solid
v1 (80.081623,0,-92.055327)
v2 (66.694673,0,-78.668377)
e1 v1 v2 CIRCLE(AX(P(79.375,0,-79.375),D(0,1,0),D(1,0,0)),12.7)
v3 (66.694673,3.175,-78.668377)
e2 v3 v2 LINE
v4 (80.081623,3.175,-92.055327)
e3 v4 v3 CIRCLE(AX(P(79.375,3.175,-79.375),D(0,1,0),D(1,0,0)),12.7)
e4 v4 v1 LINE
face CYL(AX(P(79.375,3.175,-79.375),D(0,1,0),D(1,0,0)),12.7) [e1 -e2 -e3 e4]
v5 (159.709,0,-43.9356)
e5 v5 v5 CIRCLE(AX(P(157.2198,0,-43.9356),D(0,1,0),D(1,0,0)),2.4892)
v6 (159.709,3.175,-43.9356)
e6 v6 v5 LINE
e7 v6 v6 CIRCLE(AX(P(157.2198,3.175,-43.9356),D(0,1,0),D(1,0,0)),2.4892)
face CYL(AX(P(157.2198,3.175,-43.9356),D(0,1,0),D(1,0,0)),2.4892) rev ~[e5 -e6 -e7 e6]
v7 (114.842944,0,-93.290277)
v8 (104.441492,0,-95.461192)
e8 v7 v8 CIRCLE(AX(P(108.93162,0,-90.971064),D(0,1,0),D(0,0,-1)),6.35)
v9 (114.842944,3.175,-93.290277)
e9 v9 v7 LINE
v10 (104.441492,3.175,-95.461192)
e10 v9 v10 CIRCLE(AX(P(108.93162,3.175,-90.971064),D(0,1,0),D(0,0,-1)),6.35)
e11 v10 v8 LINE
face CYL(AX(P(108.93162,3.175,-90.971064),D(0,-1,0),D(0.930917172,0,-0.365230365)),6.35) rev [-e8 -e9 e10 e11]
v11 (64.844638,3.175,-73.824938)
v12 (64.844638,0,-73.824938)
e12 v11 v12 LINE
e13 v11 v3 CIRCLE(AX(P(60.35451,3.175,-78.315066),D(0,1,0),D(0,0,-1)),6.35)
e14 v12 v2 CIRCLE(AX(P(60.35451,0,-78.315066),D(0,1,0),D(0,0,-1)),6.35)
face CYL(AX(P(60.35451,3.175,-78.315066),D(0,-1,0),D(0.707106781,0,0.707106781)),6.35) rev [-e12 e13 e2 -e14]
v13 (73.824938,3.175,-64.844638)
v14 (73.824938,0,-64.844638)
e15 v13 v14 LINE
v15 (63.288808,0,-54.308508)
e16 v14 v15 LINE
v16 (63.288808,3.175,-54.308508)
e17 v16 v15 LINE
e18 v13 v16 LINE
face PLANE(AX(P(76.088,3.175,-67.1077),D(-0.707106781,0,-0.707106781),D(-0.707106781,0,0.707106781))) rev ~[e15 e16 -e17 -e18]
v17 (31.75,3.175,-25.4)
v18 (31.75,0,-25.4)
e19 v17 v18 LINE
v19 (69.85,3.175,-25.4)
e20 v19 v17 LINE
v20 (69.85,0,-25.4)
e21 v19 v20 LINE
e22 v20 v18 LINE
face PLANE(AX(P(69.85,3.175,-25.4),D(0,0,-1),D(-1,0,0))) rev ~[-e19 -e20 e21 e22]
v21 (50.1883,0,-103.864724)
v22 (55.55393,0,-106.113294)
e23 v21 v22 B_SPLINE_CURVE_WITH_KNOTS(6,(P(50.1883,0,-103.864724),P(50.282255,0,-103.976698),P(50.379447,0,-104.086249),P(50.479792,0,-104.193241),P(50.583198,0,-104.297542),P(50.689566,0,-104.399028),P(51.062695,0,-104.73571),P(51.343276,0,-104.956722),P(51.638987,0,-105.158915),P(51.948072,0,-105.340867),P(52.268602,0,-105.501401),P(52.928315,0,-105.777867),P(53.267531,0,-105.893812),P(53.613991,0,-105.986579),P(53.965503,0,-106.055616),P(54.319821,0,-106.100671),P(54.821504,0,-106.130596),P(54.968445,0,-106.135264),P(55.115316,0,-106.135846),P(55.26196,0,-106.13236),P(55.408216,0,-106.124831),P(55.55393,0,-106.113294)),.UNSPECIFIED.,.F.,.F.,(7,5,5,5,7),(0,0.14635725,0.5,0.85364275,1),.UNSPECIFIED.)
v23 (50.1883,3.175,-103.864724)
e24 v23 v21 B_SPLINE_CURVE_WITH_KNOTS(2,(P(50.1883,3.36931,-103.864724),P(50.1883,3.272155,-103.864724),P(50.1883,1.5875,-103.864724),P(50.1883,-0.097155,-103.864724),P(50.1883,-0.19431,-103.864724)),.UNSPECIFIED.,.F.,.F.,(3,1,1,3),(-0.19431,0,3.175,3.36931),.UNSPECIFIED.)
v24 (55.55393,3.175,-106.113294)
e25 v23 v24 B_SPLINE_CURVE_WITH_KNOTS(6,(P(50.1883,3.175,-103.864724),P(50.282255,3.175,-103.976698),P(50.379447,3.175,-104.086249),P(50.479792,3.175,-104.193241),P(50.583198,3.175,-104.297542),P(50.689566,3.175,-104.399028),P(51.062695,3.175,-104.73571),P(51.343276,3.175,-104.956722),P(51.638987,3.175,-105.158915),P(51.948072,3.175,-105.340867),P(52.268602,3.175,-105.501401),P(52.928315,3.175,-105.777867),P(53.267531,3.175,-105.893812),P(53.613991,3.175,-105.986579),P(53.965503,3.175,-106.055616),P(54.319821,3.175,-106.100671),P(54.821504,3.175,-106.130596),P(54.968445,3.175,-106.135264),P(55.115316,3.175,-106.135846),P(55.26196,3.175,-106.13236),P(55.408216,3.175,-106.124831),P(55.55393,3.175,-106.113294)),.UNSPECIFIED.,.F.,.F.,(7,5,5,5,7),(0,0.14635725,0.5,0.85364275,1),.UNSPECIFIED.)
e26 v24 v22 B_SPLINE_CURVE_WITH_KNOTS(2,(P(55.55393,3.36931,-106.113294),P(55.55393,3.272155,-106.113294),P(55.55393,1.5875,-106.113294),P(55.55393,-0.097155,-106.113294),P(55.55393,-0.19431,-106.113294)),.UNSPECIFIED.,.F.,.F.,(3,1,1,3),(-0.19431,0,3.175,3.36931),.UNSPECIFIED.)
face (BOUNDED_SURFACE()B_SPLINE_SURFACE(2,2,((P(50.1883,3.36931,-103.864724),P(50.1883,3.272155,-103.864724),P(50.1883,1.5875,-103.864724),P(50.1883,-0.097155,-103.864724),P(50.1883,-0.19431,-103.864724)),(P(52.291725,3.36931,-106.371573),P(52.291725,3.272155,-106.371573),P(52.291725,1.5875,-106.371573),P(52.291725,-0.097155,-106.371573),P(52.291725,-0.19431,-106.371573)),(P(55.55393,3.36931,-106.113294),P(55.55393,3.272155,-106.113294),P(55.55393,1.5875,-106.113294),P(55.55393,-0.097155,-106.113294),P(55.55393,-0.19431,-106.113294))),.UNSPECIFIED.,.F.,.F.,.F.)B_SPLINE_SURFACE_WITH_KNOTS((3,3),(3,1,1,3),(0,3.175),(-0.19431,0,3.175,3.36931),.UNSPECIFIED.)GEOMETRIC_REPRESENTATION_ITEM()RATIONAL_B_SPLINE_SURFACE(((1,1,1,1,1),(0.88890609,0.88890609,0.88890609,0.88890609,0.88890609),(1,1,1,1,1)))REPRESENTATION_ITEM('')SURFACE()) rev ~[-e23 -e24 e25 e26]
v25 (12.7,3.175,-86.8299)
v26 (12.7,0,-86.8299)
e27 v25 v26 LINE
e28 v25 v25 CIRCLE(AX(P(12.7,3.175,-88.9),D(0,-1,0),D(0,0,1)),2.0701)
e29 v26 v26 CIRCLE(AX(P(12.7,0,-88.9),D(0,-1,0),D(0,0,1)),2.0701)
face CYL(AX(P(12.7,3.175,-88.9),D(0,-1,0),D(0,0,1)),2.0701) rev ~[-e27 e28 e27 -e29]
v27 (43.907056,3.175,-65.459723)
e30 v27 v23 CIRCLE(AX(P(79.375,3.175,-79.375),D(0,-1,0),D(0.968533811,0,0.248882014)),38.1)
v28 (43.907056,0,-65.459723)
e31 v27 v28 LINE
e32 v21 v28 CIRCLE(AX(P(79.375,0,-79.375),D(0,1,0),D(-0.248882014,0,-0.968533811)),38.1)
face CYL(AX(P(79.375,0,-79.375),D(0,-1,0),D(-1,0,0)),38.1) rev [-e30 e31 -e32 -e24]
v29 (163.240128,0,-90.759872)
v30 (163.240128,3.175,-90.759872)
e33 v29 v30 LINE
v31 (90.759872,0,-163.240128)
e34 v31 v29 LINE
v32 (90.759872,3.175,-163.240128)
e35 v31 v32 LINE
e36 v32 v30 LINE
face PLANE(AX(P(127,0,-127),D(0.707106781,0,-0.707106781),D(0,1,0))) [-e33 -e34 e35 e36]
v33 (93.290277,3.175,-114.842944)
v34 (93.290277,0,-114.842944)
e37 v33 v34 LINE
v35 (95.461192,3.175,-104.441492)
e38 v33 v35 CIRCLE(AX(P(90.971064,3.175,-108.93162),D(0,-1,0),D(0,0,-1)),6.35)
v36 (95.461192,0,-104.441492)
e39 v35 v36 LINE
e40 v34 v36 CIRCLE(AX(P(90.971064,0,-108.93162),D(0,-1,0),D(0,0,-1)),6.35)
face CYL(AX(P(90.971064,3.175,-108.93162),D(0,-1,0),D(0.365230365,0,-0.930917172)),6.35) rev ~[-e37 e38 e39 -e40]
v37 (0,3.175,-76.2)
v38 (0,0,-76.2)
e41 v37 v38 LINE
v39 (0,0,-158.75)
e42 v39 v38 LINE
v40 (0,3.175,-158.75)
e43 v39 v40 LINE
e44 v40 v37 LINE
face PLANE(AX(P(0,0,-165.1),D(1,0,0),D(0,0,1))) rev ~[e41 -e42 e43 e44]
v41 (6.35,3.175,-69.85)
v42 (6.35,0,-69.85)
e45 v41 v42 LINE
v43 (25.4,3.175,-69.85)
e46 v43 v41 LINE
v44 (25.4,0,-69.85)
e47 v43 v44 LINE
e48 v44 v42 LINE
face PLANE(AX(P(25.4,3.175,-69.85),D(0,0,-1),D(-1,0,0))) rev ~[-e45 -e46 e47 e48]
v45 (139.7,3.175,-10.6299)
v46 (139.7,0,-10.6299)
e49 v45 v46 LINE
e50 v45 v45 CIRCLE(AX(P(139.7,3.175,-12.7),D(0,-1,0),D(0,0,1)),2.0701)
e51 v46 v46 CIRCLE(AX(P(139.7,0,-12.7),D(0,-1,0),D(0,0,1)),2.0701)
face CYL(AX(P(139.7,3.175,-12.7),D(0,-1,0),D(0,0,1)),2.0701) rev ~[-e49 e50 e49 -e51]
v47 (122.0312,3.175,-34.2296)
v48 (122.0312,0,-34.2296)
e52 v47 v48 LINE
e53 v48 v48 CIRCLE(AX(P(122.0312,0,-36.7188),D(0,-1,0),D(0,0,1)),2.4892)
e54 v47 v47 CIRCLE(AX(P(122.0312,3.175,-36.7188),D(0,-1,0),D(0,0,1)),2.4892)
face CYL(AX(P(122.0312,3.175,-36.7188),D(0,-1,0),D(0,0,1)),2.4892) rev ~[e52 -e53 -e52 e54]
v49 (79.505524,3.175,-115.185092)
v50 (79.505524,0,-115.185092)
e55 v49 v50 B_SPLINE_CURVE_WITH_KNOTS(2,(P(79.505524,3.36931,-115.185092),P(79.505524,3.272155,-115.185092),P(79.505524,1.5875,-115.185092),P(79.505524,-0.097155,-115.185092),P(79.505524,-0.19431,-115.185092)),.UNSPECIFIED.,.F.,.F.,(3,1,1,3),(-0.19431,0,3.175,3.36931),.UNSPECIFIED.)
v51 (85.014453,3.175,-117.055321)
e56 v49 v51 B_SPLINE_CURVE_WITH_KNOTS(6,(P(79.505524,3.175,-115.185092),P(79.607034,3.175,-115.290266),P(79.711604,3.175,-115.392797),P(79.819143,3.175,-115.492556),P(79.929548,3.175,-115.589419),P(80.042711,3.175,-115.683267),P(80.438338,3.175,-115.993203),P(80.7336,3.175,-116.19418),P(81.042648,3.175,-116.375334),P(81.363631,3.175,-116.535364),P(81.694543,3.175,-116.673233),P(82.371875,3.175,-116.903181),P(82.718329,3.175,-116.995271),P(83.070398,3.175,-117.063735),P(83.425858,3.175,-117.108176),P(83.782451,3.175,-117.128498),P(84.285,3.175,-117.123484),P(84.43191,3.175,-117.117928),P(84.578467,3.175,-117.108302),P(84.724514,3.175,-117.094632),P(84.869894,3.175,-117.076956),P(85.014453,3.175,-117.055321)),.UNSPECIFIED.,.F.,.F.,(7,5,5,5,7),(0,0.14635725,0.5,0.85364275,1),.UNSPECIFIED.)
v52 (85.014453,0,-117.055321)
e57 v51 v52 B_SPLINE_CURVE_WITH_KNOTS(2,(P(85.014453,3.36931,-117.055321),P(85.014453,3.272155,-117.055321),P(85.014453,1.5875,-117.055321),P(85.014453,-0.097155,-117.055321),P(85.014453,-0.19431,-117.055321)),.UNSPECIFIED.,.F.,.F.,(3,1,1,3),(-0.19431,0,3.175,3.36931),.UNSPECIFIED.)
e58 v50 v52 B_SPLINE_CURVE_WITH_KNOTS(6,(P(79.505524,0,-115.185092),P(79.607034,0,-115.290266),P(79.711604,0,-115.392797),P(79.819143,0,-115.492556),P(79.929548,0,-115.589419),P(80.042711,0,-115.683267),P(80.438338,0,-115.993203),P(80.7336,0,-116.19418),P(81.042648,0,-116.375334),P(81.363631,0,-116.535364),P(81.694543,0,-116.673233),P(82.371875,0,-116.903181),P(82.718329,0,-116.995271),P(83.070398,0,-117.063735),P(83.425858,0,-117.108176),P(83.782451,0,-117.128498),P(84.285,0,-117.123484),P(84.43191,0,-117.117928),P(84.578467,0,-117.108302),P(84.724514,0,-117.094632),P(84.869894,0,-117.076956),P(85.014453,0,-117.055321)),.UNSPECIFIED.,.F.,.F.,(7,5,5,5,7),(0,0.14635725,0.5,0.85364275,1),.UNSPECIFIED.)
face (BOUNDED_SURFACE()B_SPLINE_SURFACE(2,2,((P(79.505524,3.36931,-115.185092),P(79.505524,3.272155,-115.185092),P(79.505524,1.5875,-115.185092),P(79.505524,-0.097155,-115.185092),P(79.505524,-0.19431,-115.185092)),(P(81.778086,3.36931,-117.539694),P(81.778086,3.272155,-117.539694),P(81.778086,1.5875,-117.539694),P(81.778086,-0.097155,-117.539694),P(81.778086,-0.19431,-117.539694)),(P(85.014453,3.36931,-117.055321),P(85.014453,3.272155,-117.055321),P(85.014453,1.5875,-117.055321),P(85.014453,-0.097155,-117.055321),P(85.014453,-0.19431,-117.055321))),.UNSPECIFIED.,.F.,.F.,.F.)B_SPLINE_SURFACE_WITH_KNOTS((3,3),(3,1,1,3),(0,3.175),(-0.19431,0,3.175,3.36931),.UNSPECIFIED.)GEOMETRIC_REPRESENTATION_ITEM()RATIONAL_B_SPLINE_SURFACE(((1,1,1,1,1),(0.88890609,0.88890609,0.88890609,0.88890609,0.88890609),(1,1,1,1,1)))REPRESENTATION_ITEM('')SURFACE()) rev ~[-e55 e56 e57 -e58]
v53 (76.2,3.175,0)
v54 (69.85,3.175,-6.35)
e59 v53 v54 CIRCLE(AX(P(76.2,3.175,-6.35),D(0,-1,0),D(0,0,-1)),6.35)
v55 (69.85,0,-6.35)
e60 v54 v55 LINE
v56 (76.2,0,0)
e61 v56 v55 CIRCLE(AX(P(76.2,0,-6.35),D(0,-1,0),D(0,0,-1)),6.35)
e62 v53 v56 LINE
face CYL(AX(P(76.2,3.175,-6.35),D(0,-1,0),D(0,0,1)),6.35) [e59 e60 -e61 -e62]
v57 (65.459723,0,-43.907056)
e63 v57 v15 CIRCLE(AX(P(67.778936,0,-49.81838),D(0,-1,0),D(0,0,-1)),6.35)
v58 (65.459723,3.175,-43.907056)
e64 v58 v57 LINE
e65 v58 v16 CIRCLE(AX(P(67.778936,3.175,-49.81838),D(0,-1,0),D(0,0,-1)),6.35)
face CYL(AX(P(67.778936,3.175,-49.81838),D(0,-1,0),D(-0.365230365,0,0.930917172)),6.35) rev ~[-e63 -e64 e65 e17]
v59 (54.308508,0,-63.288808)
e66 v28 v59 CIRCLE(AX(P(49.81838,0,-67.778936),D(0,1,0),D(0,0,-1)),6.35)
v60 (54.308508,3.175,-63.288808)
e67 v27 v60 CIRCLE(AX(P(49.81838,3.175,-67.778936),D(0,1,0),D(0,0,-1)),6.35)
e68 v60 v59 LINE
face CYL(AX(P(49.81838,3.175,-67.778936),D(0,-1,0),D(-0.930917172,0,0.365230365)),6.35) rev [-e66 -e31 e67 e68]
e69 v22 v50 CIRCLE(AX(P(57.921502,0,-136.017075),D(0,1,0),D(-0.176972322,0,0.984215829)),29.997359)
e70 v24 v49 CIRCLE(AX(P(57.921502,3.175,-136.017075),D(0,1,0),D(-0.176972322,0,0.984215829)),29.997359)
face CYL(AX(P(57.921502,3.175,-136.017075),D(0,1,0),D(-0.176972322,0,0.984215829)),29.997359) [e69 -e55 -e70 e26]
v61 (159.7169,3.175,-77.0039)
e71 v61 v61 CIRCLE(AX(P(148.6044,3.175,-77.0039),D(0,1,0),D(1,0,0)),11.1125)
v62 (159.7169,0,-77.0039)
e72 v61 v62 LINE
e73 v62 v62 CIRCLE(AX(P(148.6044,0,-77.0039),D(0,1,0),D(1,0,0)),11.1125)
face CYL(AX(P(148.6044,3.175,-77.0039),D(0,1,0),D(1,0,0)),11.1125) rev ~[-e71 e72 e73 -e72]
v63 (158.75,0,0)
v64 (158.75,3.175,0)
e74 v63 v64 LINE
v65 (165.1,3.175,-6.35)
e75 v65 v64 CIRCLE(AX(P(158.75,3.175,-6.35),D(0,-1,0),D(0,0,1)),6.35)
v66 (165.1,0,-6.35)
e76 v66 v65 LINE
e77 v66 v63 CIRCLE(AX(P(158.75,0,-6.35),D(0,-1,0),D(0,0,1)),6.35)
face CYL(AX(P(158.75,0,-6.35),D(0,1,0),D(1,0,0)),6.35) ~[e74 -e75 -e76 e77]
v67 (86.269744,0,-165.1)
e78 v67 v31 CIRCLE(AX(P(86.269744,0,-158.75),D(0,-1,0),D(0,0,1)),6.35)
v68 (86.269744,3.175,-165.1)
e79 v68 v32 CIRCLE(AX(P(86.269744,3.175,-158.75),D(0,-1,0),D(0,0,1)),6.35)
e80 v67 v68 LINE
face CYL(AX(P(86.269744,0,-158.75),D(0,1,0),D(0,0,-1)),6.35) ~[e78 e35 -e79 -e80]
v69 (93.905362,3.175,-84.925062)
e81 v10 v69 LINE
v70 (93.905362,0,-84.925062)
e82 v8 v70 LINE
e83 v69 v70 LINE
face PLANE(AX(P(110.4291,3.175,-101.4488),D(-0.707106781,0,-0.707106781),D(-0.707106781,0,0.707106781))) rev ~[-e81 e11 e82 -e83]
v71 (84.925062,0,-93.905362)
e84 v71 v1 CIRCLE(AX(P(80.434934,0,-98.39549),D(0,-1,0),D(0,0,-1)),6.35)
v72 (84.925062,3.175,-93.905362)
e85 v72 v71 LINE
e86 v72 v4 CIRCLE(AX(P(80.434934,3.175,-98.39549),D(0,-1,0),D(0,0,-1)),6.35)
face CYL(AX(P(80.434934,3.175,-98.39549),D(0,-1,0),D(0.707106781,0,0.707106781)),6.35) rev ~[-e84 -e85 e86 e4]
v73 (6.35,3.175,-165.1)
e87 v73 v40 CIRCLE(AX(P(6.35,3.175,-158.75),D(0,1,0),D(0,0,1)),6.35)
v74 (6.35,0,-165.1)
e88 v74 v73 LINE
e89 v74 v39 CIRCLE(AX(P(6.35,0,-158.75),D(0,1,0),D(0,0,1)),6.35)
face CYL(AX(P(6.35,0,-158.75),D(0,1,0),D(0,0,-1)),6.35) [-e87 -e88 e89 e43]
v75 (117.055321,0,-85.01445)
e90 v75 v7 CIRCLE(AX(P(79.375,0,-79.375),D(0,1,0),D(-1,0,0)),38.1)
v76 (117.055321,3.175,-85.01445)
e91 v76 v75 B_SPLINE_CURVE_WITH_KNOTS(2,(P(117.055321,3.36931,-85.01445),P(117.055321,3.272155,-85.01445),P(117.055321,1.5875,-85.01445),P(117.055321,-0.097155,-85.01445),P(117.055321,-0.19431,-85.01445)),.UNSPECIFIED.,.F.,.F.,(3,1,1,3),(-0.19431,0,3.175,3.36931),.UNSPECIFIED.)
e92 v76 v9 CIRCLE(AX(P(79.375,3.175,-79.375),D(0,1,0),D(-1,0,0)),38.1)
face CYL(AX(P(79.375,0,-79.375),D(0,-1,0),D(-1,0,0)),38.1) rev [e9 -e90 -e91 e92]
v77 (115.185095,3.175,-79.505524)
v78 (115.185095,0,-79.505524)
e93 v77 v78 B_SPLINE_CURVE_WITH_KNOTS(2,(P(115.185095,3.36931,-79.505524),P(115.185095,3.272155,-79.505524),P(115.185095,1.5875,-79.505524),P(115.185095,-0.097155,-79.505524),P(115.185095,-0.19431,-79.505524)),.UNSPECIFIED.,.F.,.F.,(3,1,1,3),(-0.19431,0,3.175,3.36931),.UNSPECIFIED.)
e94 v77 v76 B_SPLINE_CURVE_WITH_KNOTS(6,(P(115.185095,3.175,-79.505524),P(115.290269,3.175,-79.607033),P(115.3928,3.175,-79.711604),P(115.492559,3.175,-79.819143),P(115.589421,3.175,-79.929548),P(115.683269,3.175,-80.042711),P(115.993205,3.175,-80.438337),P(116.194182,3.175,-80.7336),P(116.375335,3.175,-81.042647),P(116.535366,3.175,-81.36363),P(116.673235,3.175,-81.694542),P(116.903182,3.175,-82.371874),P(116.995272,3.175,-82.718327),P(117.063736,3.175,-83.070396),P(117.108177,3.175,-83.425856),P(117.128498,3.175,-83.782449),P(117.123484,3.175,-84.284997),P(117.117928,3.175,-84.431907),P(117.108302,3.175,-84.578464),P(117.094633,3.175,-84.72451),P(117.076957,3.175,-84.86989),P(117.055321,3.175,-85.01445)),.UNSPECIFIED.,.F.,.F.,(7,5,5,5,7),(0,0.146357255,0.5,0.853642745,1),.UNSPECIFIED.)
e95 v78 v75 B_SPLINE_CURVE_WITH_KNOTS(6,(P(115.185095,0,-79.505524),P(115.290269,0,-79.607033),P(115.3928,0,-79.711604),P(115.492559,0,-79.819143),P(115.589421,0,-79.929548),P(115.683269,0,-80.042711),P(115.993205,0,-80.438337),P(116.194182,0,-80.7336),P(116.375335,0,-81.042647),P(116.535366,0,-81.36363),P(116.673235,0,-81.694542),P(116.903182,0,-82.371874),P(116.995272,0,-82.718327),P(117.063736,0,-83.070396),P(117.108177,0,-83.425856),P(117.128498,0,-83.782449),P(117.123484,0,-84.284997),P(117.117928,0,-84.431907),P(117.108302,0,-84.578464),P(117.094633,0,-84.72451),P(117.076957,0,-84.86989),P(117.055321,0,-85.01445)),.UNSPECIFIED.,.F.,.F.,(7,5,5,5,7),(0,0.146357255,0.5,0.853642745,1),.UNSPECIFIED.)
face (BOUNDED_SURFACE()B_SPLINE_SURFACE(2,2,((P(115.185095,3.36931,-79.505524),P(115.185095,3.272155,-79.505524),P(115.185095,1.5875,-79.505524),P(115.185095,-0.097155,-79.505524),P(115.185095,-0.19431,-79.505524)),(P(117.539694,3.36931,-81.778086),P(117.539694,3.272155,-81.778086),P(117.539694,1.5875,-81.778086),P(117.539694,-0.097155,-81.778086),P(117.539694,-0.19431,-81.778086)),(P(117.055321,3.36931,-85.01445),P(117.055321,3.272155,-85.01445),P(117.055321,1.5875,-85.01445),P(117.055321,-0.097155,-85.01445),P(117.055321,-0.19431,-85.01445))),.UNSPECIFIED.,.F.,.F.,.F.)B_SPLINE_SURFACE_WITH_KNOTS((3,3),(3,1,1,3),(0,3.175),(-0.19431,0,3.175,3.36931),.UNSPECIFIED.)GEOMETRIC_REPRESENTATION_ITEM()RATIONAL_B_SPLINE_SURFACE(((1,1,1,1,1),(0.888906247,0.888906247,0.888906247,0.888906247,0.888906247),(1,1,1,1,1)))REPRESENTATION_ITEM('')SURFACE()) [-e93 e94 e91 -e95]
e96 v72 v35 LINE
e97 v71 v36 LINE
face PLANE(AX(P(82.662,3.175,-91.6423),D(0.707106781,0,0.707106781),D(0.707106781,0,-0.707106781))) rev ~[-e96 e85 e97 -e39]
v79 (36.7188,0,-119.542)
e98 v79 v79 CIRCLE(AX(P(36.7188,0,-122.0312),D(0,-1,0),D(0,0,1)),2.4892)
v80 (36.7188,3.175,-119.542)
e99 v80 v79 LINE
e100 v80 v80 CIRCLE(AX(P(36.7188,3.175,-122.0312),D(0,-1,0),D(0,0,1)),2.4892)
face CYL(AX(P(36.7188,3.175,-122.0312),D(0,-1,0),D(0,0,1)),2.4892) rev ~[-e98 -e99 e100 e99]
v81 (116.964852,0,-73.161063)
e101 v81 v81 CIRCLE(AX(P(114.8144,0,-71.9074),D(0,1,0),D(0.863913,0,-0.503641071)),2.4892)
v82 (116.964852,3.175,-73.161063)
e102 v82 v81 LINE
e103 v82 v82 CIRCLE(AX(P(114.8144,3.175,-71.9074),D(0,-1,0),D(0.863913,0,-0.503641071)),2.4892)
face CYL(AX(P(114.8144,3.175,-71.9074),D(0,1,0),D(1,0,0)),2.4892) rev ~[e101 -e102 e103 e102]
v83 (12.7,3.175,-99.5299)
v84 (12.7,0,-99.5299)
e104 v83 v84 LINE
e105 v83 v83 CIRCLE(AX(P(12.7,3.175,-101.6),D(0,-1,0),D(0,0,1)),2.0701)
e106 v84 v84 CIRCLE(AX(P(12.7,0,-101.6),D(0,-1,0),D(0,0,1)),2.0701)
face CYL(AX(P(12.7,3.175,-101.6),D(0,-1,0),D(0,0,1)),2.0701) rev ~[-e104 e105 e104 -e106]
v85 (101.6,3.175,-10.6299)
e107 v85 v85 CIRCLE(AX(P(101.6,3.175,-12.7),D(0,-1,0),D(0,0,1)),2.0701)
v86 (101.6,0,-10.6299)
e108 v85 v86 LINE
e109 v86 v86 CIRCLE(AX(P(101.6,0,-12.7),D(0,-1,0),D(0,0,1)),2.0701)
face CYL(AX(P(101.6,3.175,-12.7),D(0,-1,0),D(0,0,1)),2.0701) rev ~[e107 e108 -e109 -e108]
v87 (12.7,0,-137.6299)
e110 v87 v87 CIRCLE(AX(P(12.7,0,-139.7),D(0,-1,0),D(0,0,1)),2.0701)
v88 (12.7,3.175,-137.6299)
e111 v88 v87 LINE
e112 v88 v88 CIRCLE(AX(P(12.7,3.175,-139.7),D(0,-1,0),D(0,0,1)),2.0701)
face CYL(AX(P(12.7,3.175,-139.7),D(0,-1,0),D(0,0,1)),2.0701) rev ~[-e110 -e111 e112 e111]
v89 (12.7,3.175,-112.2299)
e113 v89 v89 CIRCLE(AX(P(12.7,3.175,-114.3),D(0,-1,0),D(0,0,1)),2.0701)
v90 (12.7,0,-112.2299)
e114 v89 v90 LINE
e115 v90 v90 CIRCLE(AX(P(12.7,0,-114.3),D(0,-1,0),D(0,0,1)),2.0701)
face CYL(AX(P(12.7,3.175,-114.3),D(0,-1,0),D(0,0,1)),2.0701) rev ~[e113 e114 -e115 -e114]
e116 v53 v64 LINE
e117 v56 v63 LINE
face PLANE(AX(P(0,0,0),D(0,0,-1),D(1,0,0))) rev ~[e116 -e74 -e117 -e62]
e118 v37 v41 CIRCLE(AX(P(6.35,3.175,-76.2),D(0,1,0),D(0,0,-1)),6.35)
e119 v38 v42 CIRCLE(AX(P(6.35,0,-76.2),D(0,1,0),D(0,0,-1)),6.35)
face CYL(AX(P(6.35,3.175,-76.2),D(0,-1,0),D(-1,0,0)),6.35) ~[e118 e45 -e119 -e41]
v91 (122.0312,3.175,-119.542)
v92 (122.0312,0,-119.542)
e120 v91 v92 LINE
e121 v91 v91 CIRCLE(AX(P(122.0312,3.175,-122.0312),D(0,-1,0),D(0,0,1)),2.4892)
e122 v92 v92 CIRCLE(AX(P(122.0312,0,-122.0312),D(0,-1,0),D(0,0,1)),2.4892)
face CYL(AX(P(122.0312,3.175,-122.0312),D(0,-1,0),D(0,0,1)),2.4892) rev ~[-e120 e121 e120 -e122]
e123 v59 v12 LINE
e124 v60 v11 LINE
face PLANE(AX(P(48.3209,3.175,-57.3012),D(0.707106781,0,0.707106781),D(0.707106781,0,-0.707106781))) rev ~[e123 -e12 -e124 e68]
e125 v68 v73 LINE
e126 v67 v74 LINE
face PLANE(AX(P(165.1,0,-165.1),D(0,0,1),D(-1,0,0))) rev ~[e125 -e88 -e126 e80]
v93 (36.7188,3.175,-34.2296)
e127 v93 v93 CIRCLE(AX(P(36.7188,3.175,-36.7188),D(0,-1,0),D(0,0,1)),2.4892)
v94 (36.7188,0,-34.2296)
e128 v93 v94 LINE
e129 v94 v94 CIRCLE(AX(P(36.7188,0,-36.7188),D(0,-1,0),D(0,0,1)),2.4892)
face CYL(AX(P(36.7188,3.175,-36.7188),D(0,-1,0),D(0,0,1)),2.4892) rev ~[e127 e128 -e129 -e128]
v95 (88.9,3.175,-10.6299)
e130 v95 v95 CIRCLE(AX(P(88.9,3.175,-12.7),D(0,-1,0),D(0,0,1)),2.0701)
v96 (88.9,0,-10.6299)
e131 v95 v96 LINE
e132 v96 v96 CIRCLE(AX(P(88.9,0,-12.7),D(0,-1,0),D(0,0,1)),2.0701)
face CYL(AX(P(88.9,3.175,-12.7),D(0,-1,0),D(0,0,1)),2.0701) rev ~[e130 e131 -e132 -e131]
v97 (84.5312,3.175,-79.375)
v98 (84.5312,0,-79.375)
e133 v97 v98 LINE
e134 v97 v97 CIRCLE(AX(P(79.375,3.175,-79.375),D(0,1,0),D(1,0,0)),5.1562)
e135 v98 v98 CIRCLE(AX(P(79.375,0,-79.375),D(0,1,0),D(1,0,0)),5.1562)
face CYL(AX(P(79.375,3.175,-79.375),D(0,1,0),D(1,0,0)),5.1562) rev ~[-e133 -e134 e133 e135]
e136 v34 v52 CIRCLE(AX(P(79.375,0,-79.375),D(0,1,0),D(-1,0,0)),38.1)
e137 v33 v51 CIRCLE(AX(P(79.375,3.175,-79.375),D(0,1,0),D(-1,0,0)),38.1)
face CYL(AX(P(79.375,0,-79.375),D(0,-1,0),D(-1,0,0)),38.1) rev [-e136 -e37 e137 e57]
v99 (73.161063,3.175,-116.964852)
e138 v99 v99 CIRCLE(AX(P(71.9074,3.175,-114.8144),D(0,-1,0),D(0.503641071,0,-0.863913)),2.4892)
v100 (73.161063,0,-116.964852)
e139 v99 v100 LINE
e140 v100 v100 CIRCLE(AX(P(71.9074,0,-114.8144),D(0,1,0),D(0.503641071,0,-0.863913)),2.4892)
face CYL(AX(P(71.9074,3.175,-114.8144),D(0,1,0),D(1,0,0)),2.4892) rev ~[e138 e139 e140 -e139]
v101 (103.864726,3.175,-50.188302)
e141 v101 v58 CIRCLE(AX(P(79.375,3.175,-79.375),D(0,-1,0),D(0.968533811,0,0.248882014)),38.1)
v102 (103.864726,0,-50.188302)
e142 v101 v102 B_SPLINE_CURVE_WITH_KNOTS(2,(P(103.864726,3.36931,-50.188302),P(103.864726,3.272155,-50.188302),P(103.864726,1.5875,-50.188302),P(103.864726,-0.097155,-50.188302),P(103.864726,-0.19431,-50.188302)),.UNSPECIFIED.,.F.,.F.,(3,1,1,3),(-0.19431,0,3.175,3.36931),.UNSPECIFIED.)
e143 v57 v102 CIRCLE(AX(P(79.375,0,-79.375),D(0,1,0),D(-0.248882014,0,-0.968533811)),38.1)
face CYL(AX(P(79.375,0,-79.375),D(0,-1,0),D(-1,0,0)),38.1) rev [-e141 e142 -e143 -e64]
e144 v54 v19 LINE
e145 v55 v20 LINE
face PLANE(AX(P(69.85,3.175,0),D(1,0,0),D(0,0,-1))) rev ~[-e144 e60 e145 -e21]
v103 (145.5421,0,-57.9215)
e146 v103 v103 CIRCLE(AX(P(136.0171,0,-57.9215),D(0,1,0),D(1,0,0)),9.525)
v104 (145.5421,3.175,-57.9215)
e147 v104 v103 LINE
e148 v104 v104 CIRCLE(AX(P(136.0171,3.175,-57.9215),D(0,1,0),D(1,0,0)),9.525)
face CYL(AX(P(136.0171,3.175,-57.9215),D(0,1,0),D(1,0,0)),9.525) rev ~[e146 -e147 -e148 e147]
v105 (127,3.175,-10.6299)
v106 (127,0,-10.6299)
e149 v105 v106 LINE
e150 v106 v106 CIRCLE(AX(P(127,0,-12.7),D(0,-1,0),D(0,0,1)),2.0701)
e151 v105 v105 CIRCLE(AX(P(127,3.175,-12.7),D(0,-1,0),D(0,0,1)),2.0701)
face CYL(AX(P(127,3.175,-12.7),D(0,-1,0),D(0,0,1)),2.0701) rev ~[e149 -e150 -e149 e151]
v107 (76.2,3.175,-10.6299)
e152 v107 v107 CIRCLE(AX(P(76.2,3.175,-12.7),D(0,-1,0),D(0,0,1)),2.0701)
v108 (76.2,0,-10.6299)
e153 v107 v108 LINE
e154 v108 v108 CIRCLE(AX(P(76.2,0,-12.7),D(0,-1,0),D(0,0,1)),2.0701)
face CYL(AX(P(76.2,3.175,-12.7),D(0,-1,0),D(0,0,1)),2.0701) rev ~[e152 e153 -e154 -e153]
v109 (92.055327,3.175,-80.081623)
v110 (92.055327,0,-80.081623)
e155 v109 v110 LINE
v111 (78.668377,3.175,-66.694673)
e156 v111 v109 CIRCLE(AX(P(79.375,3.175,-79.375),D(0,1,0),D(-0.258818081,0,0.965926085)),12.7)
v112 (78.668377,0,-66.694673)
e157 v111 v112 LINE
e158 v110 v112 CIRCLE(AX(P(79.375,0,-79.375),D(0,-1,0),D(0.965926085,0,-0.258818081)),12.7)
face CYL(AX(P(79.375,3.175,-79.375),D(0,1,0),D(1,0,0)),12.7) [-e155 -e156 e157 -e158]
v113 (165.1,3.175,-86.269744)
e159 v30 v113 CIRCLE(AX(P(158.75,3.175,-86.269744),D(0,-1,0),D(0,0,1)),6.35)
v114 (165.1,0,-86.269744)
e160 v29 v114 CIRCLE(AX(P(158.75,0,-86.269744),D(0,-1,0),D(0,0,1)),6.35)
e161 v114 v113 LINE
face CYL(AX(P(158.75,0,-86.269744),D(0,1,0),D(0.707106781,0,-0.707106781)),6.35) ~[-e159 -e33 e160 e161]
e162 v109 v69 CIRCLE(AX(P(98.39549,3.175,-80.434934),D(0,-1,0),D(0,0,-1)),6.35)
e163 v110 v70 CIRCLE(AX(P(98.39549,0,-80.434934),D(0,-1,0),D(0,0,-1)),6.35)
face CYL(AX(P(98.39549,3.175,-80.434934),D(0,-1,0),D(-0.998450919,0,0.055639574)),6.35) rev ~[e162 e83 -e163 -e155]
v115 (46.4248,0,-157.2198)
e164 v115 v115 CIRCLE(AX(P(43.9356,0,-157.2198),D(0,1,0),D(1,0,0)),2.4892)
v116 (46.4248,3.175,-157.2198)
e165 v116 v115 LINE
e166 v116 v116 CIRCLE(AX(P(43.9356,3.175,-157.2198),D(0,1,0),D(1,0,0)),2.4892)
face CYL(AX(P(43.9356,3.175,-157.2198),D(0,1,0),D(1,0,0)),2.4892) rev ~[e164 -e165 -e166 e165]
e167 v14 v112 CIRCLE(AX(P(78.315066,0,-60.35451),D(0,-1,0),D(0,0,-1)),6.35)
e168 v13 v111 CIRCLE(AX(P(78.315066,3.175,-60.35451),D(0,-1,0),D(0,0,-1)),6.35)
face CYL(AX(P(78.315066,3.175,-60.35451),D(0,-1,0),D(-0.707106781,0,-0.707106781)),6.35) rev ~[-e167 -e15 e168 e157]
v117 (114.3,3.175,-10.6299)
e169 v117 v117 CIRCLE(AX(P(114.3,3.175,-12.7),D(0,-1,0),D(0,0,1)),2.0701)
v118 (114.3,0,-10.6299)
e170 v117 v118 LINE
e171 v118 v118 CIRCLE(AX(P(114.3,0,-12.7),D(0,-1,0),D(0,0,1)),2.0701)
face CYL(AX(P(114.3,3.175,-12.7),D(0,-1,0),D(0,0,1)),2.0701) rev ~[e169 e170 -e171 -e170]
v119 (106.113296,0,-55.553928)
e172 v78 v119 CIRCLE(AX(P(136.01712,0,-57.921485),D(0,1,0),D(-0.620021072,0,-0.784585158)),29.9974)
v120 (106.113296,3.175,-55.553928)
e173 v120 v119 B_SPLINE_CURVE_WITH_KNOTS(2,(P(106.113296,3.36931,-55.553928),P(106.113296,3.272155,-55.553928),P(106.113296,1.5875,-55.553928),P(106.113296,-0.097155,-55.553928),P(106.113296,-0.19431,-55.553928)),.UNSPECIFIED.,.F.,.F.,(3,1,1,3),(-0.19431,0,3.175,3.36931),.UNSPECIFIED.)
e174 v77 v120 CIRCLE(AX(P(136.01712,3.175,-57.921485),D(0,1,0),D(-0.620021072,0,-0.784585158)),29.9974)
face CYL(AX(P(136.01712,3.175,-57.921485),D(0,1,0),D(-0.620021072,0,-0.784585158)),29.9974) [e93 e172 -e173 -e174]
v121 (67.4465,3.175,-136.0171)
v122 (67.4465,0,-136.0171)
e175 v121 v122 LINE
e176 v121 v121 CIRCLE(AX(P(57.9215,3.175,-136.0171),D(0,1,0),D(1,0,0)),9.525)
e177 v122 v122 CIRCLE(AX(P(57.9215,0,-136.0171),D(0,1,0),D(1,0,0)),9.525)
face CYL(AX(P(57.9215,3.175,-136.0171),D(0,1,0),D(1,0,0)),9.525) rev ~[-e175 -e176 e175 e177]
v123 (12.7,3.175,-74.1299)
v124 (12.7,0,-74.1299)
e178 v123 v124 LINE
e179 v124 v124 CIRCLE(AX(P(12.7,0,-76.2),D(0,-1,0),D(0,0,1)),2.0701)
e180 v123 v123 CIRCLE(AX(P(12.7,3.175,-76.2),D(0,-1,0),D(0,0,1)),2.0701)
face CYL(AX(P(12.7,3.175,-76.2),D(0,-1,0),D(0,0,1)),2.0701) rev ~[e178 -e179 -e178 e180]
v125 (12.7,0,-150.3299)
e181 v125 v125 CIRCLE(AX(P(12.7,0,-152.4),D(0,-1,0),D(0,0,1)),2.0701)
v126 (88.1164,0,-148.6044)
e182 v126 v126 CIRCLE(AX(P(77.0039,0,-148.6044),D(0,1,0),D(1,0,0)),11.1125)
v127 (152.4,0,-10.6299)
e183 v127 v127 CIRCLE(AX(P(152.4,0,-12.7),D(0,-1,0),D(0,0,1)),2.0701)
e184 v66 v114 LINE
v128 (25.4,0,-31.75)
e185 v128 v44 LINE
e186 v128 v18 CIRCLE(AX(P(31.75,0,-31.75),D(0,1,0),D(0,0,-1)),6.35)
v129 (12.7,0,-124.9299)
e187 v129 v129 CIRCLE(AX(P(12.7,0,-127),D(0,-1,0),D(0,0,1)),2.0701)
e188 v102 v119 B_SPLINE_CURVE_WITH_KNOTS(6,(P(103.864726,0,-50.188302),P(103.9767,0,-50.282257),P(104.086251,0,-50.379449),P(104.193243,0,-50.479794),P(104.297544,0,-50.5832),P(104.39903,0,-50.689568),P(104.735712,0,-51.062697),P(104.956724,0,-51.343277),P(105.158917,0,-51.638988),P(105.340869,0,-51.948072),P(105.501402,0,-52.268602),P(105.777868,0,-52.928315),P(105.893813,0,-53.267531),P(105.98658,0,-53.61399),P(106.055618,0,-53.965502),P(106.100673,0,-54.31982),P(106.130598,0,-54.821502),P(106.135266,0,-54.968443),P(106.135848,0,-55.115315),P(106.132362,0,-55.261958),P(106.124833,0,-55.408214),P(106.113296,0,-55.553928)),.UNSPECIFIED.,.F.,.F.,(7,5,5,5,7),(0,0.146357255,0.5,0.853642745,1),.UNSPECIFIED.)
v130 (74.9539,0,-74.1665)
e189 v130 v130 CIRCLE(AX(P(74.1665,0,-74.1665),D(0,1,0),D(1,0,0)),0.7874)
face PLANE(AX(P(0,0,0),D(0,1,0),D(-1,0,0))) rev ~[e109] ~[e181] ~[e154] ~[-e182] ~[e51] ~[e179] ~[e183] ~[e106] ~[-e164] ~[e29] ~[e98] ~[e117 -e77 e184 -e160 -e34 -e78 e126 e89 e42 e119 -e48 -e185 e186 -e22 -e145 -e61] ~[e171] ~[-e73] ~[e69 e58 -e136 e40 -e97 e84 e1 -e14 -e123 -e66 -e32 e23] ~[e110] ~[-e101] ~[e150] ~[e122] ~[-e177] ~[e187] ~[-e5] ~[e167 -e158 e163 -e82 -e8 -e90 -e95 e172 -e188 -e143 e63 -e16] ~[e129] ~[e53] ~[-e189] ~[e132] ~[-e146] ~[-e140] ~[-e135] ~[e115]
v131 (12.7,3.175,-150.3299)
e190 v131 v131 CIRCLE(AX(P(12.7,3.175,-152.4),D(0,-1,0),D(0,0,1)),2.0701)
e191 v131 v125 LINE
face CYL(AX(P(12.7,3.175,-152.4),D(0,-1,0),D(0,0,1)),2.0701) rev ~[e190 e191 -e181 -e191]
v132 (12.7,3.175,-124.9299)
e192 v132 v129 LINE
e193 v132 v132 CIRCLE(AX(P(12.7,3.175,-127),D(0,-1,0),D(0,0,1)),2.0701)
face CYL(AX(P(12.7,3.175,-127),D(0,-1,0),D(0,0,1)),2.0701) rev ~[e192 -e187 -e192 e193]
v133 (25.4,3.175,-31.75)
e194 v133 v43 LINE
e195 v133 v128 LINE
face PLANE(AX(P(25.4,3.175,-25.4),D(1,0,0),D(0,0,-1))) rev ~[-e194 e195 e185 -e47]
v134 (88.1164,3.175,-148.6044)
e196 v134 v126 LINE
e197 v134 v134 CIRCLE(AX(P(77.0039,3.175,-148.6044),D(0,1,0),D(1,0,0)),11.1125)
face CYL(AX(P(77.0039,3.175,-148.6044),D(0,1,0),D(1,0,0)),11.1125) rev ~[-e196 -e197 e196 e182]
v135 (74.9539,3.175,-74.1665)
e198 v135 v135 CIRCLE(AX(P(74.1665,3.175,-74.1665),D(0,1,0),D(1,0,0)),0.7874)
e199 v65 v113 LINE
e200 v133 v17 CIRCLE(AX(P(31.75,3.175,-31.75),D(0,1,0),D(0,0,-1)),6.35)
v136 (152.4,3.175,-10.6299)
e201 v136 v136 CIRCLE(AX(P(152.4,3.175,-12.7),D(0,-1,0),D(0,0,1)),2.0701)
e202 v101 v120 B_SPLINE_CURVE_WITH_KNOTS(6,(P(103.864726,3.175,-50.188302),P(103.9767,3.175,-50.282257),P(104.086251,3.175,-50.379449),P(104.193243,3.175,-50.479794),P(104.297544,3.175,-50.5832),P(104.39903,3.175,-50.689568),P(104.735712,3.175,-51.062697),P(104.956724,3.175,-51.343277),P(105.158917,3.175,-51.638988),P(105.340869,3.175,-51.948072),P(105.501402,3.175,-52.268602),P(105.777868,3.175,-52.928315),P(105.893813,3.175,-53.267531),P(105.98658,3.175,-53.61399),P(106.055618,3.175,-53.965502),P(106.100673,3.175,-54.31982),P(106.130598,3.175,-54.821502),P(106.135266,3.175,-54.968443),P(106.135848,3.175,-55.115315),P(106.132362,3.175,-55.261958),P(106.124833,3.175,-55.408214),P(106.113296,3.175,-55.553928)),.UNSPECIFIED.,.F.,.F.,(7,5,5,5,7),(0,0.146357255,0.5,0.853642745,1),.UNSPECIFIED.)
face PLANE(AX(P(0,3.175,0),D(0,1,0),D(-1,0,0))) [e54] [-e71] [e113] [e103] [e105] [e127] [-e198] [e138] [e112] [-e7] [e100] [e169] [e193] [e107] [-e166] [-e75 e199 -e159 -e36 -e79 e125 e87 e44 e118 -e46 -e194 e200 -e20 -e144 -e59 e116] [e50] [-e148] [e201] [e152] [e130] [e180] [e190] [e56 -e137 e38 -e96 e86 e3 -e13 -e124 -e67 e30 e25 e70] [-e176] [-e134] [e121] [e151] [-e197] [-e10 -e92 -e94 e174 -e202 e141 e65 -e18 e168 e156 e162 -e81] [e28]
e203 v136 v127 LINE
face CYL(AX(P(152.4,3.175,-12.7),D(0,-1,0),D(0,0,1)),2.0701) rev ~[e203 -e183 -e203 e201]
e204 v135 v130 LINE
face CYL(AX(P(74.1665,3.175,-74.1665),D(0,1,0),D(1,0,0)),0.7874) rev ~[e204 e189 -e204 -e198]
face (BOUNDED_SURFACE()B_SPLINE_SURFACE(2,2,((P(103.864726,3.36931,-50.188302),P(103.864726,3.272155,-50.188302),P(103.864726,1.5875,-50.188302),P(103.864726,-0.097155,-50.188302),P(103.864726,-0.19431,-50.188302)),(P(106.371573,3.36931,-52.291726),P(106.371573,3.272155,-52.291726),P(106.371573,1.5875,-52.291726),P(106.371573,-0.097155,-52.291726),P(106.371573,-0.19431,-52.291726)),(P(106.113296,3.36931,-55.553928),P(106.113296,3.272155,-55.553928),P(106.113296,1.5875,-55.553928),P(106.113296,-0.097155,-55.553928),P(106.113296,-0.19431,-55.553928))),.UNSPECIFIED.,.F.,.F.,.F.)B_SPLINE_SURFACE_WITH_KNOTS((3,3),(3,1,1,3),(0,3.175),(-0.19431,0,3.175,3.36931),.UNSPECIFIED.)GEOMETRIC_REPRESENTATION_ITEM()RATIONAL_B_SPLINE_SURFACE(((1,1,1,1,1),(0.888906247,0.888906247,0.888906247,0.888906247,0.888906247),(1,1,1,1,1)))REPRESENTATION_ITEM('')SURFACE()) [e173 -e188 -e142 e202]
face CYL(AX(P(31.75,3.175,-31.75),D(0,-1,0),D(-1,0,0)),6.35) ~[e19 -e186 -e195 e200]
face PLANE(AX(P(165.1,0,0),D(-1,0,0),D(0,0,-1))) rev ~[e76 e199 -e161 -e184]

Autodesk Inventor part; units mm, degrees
ref_plane "YZ Plane" through (0, 0, 0) normal (1, 0, 0) x (0, 1, 0)
ref_plane "XZ Plane" through (0, 0, 0) normal (0, 1, 0) x (-1, 0, 0)
ref_plane "XY Plane" through (0, 0, 0) normal (0, 0, 1) x (1, 0, 0)
sketch "Sketch1" plane through (0, 0, 0) normal (0, 1, 0) x (-1, 0, 0)
  line L0 (0, 0) -> (-165.1, 0)
  line L1 (-165.1, 0) -> (-165.1, -165.1)
  line L2 (-165.1, -165.1) -> (0, -165.1)
  line L3 (0, -165.1) -> (0, 0)
  circle A0 centre (-79.375, -79.375) radius 38.1
  line L4 (-25.4, -165.1) -> (-25.4, 0) construction
  line L5 (0, -25.4) -> (-165.1, -25.4) construction
  line L6 (0, 0) -> (-165.1, -165.1) construction
  circle A1 centre (-79.375, -79.375) radius 53.975 construction
  dimension "d0" = 76.2
  dimension "d3" = 25.4
  dimension "d4" = 25.4
  dimension "d5" = 107.95
  dimension "d25" = 165.1
extrude "Extrusion1" add sketch "Sketch1" along normal blind 3.175
sketch "Sketch2" plane through (0, 3.175, 0) normal (0, 1, 0) x (1, 0, 0)
  circle A0 centre (79.375, 79.375) radius 38.1 construction
  circle A1 centre (79.375, 79.375) radius 60.325 construction
  line L0 (0, 165.1) -> (0, 0) construction
  arc A2 (184.15, 82.55) -> (82.55, 184.15) centre (82.55, 82.55) ccw construction
  line L1 (36.7188, 36.7188) -> (122.0312, 36.7188) construction
  line L2 (122.0312, 36.7188) -> (122.0312, 122.0312) construction
  line L3 (122.0312, 122.0312) -> (36.7188, 122.0312) construction
  line L4 (36.7188, 122.0312) -> (36.7188, 36.7188) construction
  dimension "d9" = 120.65
hole "Hole1" at (36.7188, 3.175, -36.7188) at (122.0312, 3.175, -122.0312) at (122.0312, 3.175, -36.7188) at (36.7188, 3.175, -122.0312) direction (0, -1, 0) diameter 4.9784 end through all
sketch "Sketch3" plane through (0, 3.175, 0) normal (0, 1, 0) x (1, 0, 0)
  circle A0 centre (79.375, 79.375) radius 38.1 construction
  circle A1 centre (79.375, 79.375) radius 53.975 construction
  circle A2 centre (57.9215, 136.0171) radius 9.525
  line L0 (0, 0) -> (79.375, 79.375) construction
  circle A3 centre (136.0171, 57.9215) radius 9.525
  circle A4 centre (122.0312, 122.0312) radius 2.4892 construction
  circle A5 centre (57.9215, 136.0171) radius 22.86 construction
  line L1 (79.375, 79.375) -> (77.0039, 148.6044) construction
  circle A6 centre (77.0039, 148.6044) radius 11.1125
  circle A7 centre (148.6044, 77.0039) radius 11.1125
  circle A8 centre (57.9215, 136.0171) radius 25.4 construction
  circle A9 centre (122.0312, 122.0312) radius 4.7625 construction
  circle A10 centre (57.9215, 136.0171) radius 29.9974 construction
  circle A11 centre (36.7188, 122.0312) radius 2.4892 projected
  circle A12 centre (43.9356, 157.2198) radius 2.4892
  circle A13 centre (122.0312, 36.7188) radius 2.4892
  circle A14 centre (157.2198, 43.9356) radius 2.4892
  circle A15 centre (71.9074, 114.8144) radius 2.4892
  circle A16 centre (114.8144, 71.9074) radius 2.4892
  circle A17 centre (79.375, 79.375) radius 38.1 projected
  arc A18 (52.6128, 106.4932) -> (81.457, 117.4181) centre (57.9215, 136.0171) ccw
  arc A19 (117.4181, 81.457) -> (106.4932, 52.6128) centre (136.0171, 57.9215) ccw
  circle A20 centre (36.7188, 122.0312) radius 2.4892 projected
  line L2 (36.7188, 122.0312) -> (77.0039, 148.6044) construction
  point P0 (117.4181, 81.457)
  point P1 (106.4932, 52.6128)
  dimension "d33" = 45.72
  dimension "d17" = 107.95
  dimension "d19" = 19.05
  dimension "d34" = 69.27
  dimension "d35" = 22.225
  dimension "d37" = 50.8
  dimension "d38" = 59.9948
  dimension "d39" = 9.525
  dimension "d52" = 4.9784
  dimension "d53" = 90
  dimension "d56" = 90
extrude "Extrusion5" cut sketch "Sketch3" against normal through all contours A2 | A3 | A6 | A7 | A12 | A14 | A15 A17 | A17 A15 | A17 A16 | A16 A17
extrude "Extrusion6" add sketch "Sketch3" against normal up to surface (3.175 mm away) contours A15 A17 A18 | A17 A16 A19
sketch "Sketch5" plane through (0, 3.175, 0) normal (0, 1, 0) x (1, 0, 0)
  line L0 (0, 165.1) -> (0, 0) projected
  line L1 (0, 0) -> (25.4, 0)
  line L2 (25.4, 0) -> (25.4, 69.85)
  line L3 (25.4, 69.85) -> (0, 69.85)
  line L4 (0, 69.85) -> (0, 0)
  line L5 (25.4, 0) -> (69.85, 0)
  line L6 (69.85, 0) -> (69.85, 25.4)
  line L7 (69.85, 25.4) -> (25.4, 25.4)
  line L8 (25.4, 25.4) -> (25.4, 0)
  dimension "d63" = 25.4
  dimension "d64" = 69.85
  dimension "d65" = 44.45
  dimension "d66" = 25.4
extrude "Extrusion7" cut sketch "Sketch5" against normal up to surface (3.175 mm away)
chamfer "Chamfer3" distance 76.2 angle 45 1 edges at (165.1, 1.5875, -165.1)
fillet "Fillet6" radius 6.35 7 edges at (165.1, 1.5875, 0) (165.1, 1.5875, -88.9) (88.9, 1.5875, -165.1) (0, 1.5875, -165.1) (25.4, 1.5875, -25.4) (0, 1.5875, -69.85) (69.85, 1.5875, 0)
sketch "Sketch6" plane through (0, 3.175, 0) normal (0, 1, 0) x (1, 0, 0)
  line L0 (0, 0) -> (12.7, 0) construction
  line L1 (12.7, 0) -> (12.7, 12.7) construction
  line L2 (12.7, 12.7) -> (0, 12.7) construction
  line L3 (0, 12.7) -> (0, 0) construction
  point P0 (25.4, 12.7)
  point P1 (38.1, 12.7)
  point P2 (50.8, 12.7)
  point P3 (63.5, 12.7)
  point P4 (76.2, 12.7)
  point P5 (88.9, 12.7)
  point P6 (101.6, 12.7)
  point P7 (114.3, 12.7)
  point P8 (127, 12.7)
  point P9 (139.7, 12.7)
  point P10 (152.4, 12.7)
  point P11 (12.7, 25.4)
  point P12 (12.7, 38.1)
  point P13 (12.7, 50.8)
  point P14 (12.7, 63.5)
  point P15 (12.7, 76.2)
  point P16 (12.7, 88.9)
  point P17 (12.7, 101.6)
  point P18 (12.7, 114.3)
  point P19 (12.7, 127)
  point P20 (12.7, 139.7)
  point P21 (12.7, 152.4)
  dimension "d77" = 12.7
  dimension "d78" = 12.7
  dimension "d81" = 12.7
  dimension "d88" = 12.7
hole "Hole2" at (12.7, 3.175, -12.7) at (25.4, 3.175, -12.7) at (38.1, 3.175, -12.7) at (50.8, 3.175, -12.7) at (63.5, 3.175, -12.7) at (76.2, 3.175, -12.7) at (88.9, 3.175, -12.7) at (101.6, 3.175, -12.7) at (114.3, 3.175, -12.7) at (127, 3.175, -12.7) at (139.7, 3.175, -12.7) at (152.4, 3.175, -12.7) at (12.7, 3.175, -25.4) at (12.7, 3.175, -38.1) at (12.7, 3.175, -50.8) at (12.7, 3.175, -63.5) at (12.7, 3.175, -76.2) at (12.7, 3.175, -88.9) at (12.7, 3.175, -101.6) at (12.7, 3.175, -114.3) at (12.7, 3.175, -127) at (12.7, 3.175, -139.7) at (12.7, 3.175, -152.4) direction (0, -1, 0) diameter 4.1402 end through all
sketch "Sketch7" plane through (0, 3.175, 0) normal (0, 1, 0) x (1, 0, 0)
  arc A0 (52.6128, 106.4932) -> (106.4932, 52.6128) centre (79.375, 79.375) ccw projected
  arc A1 (117.4181, 81.457) -> (81.457, 117.4181) centre (79.375, 79.375) ccw projected
  arc A2 (52.6128, 106.4932) -> (81.457, 117.4181) centre (57.9215, 136.0171) ccw projected
  arc A3 (117.4181, 81.457) -> (106.4932, 52.6128) centre (136.0171, 57.9215) ccw projected
  circle A4 centre (79.375, 79.375) radius 12.7
  line L0 (67.1077, 76.088) -> (76.088, 67.1077)
  line L1 (76.088, 67.1077) -> (57.3012, 48.3209)
  line L2 (57.3012, 48.3209) -> (48.3209, 57.3012)
  line L3 (48.3209, 57.3012) -> (67.1077, 76.088)
  circle A5 centre (36.7188, 36.7188) radius 2.4892 projected
  line L4 (79.375, 79.375) -> (36.7188, 36.7188) construction
  line L5 (101.4488, 110.4291) -> (110.4291, 101.4488)
  line L6 (110.4291, 101.4488) -> (91.6423, 82.662)
  line L7 (91.6423, 82.662) -> (82.662, 91.6423)
  line L8 (82.662, 91.6423) -> (101.4488, 110.4291)
  circle A6 centre (79.375, 79.375) radius 5.1562
  circle A7 centre (74.1665, 74.1665) radius 0.7874
  point P0 (0, 0)
  point P1 (48.3209, 57.3012)
  point P2 (48.3209, 57.3012)
  point P3 (110.4291, 101.4488)
  dimension "d100" = 25.4
  dimension "d102" = 12.7
  dimension "d106" = 10.3124
  dimension "d107" = 1.5748
  dimension "d108" = 7.366
extrude "Extrusion8" add sketch "Sketch7" against normal up to surface (3.175 mm away) contours L2 A0 | L3 A4 L1 L2 | L0 A4 | A4 L7 L0 | A1 L5 | L5 L6 A4 L8 | A4 L7
fillet "Fillet7" radius 6.35 12 edges at (76.088, 1.5875, -67.1077) (67.1077, 1.5875, -76.088) (48.3209, 1.5875, -57.3012) (57.3012, 1.5875, -48.3209) (110.4291, 1.5875, -101.4488) (101.4488, 1.5875, -110.4291) (82.662, 1.5875, -91.6423) (91.6423, 1.5875, -82.662) (52.6128, 1.5875, -106.4932) (81.457, 1.5875, -117.4181) (106.4932, 1.5875, -52.6128) (117.4181, 1.5875, -81.457)
properties part number "TopPlate" material "Aluminum 6061"
